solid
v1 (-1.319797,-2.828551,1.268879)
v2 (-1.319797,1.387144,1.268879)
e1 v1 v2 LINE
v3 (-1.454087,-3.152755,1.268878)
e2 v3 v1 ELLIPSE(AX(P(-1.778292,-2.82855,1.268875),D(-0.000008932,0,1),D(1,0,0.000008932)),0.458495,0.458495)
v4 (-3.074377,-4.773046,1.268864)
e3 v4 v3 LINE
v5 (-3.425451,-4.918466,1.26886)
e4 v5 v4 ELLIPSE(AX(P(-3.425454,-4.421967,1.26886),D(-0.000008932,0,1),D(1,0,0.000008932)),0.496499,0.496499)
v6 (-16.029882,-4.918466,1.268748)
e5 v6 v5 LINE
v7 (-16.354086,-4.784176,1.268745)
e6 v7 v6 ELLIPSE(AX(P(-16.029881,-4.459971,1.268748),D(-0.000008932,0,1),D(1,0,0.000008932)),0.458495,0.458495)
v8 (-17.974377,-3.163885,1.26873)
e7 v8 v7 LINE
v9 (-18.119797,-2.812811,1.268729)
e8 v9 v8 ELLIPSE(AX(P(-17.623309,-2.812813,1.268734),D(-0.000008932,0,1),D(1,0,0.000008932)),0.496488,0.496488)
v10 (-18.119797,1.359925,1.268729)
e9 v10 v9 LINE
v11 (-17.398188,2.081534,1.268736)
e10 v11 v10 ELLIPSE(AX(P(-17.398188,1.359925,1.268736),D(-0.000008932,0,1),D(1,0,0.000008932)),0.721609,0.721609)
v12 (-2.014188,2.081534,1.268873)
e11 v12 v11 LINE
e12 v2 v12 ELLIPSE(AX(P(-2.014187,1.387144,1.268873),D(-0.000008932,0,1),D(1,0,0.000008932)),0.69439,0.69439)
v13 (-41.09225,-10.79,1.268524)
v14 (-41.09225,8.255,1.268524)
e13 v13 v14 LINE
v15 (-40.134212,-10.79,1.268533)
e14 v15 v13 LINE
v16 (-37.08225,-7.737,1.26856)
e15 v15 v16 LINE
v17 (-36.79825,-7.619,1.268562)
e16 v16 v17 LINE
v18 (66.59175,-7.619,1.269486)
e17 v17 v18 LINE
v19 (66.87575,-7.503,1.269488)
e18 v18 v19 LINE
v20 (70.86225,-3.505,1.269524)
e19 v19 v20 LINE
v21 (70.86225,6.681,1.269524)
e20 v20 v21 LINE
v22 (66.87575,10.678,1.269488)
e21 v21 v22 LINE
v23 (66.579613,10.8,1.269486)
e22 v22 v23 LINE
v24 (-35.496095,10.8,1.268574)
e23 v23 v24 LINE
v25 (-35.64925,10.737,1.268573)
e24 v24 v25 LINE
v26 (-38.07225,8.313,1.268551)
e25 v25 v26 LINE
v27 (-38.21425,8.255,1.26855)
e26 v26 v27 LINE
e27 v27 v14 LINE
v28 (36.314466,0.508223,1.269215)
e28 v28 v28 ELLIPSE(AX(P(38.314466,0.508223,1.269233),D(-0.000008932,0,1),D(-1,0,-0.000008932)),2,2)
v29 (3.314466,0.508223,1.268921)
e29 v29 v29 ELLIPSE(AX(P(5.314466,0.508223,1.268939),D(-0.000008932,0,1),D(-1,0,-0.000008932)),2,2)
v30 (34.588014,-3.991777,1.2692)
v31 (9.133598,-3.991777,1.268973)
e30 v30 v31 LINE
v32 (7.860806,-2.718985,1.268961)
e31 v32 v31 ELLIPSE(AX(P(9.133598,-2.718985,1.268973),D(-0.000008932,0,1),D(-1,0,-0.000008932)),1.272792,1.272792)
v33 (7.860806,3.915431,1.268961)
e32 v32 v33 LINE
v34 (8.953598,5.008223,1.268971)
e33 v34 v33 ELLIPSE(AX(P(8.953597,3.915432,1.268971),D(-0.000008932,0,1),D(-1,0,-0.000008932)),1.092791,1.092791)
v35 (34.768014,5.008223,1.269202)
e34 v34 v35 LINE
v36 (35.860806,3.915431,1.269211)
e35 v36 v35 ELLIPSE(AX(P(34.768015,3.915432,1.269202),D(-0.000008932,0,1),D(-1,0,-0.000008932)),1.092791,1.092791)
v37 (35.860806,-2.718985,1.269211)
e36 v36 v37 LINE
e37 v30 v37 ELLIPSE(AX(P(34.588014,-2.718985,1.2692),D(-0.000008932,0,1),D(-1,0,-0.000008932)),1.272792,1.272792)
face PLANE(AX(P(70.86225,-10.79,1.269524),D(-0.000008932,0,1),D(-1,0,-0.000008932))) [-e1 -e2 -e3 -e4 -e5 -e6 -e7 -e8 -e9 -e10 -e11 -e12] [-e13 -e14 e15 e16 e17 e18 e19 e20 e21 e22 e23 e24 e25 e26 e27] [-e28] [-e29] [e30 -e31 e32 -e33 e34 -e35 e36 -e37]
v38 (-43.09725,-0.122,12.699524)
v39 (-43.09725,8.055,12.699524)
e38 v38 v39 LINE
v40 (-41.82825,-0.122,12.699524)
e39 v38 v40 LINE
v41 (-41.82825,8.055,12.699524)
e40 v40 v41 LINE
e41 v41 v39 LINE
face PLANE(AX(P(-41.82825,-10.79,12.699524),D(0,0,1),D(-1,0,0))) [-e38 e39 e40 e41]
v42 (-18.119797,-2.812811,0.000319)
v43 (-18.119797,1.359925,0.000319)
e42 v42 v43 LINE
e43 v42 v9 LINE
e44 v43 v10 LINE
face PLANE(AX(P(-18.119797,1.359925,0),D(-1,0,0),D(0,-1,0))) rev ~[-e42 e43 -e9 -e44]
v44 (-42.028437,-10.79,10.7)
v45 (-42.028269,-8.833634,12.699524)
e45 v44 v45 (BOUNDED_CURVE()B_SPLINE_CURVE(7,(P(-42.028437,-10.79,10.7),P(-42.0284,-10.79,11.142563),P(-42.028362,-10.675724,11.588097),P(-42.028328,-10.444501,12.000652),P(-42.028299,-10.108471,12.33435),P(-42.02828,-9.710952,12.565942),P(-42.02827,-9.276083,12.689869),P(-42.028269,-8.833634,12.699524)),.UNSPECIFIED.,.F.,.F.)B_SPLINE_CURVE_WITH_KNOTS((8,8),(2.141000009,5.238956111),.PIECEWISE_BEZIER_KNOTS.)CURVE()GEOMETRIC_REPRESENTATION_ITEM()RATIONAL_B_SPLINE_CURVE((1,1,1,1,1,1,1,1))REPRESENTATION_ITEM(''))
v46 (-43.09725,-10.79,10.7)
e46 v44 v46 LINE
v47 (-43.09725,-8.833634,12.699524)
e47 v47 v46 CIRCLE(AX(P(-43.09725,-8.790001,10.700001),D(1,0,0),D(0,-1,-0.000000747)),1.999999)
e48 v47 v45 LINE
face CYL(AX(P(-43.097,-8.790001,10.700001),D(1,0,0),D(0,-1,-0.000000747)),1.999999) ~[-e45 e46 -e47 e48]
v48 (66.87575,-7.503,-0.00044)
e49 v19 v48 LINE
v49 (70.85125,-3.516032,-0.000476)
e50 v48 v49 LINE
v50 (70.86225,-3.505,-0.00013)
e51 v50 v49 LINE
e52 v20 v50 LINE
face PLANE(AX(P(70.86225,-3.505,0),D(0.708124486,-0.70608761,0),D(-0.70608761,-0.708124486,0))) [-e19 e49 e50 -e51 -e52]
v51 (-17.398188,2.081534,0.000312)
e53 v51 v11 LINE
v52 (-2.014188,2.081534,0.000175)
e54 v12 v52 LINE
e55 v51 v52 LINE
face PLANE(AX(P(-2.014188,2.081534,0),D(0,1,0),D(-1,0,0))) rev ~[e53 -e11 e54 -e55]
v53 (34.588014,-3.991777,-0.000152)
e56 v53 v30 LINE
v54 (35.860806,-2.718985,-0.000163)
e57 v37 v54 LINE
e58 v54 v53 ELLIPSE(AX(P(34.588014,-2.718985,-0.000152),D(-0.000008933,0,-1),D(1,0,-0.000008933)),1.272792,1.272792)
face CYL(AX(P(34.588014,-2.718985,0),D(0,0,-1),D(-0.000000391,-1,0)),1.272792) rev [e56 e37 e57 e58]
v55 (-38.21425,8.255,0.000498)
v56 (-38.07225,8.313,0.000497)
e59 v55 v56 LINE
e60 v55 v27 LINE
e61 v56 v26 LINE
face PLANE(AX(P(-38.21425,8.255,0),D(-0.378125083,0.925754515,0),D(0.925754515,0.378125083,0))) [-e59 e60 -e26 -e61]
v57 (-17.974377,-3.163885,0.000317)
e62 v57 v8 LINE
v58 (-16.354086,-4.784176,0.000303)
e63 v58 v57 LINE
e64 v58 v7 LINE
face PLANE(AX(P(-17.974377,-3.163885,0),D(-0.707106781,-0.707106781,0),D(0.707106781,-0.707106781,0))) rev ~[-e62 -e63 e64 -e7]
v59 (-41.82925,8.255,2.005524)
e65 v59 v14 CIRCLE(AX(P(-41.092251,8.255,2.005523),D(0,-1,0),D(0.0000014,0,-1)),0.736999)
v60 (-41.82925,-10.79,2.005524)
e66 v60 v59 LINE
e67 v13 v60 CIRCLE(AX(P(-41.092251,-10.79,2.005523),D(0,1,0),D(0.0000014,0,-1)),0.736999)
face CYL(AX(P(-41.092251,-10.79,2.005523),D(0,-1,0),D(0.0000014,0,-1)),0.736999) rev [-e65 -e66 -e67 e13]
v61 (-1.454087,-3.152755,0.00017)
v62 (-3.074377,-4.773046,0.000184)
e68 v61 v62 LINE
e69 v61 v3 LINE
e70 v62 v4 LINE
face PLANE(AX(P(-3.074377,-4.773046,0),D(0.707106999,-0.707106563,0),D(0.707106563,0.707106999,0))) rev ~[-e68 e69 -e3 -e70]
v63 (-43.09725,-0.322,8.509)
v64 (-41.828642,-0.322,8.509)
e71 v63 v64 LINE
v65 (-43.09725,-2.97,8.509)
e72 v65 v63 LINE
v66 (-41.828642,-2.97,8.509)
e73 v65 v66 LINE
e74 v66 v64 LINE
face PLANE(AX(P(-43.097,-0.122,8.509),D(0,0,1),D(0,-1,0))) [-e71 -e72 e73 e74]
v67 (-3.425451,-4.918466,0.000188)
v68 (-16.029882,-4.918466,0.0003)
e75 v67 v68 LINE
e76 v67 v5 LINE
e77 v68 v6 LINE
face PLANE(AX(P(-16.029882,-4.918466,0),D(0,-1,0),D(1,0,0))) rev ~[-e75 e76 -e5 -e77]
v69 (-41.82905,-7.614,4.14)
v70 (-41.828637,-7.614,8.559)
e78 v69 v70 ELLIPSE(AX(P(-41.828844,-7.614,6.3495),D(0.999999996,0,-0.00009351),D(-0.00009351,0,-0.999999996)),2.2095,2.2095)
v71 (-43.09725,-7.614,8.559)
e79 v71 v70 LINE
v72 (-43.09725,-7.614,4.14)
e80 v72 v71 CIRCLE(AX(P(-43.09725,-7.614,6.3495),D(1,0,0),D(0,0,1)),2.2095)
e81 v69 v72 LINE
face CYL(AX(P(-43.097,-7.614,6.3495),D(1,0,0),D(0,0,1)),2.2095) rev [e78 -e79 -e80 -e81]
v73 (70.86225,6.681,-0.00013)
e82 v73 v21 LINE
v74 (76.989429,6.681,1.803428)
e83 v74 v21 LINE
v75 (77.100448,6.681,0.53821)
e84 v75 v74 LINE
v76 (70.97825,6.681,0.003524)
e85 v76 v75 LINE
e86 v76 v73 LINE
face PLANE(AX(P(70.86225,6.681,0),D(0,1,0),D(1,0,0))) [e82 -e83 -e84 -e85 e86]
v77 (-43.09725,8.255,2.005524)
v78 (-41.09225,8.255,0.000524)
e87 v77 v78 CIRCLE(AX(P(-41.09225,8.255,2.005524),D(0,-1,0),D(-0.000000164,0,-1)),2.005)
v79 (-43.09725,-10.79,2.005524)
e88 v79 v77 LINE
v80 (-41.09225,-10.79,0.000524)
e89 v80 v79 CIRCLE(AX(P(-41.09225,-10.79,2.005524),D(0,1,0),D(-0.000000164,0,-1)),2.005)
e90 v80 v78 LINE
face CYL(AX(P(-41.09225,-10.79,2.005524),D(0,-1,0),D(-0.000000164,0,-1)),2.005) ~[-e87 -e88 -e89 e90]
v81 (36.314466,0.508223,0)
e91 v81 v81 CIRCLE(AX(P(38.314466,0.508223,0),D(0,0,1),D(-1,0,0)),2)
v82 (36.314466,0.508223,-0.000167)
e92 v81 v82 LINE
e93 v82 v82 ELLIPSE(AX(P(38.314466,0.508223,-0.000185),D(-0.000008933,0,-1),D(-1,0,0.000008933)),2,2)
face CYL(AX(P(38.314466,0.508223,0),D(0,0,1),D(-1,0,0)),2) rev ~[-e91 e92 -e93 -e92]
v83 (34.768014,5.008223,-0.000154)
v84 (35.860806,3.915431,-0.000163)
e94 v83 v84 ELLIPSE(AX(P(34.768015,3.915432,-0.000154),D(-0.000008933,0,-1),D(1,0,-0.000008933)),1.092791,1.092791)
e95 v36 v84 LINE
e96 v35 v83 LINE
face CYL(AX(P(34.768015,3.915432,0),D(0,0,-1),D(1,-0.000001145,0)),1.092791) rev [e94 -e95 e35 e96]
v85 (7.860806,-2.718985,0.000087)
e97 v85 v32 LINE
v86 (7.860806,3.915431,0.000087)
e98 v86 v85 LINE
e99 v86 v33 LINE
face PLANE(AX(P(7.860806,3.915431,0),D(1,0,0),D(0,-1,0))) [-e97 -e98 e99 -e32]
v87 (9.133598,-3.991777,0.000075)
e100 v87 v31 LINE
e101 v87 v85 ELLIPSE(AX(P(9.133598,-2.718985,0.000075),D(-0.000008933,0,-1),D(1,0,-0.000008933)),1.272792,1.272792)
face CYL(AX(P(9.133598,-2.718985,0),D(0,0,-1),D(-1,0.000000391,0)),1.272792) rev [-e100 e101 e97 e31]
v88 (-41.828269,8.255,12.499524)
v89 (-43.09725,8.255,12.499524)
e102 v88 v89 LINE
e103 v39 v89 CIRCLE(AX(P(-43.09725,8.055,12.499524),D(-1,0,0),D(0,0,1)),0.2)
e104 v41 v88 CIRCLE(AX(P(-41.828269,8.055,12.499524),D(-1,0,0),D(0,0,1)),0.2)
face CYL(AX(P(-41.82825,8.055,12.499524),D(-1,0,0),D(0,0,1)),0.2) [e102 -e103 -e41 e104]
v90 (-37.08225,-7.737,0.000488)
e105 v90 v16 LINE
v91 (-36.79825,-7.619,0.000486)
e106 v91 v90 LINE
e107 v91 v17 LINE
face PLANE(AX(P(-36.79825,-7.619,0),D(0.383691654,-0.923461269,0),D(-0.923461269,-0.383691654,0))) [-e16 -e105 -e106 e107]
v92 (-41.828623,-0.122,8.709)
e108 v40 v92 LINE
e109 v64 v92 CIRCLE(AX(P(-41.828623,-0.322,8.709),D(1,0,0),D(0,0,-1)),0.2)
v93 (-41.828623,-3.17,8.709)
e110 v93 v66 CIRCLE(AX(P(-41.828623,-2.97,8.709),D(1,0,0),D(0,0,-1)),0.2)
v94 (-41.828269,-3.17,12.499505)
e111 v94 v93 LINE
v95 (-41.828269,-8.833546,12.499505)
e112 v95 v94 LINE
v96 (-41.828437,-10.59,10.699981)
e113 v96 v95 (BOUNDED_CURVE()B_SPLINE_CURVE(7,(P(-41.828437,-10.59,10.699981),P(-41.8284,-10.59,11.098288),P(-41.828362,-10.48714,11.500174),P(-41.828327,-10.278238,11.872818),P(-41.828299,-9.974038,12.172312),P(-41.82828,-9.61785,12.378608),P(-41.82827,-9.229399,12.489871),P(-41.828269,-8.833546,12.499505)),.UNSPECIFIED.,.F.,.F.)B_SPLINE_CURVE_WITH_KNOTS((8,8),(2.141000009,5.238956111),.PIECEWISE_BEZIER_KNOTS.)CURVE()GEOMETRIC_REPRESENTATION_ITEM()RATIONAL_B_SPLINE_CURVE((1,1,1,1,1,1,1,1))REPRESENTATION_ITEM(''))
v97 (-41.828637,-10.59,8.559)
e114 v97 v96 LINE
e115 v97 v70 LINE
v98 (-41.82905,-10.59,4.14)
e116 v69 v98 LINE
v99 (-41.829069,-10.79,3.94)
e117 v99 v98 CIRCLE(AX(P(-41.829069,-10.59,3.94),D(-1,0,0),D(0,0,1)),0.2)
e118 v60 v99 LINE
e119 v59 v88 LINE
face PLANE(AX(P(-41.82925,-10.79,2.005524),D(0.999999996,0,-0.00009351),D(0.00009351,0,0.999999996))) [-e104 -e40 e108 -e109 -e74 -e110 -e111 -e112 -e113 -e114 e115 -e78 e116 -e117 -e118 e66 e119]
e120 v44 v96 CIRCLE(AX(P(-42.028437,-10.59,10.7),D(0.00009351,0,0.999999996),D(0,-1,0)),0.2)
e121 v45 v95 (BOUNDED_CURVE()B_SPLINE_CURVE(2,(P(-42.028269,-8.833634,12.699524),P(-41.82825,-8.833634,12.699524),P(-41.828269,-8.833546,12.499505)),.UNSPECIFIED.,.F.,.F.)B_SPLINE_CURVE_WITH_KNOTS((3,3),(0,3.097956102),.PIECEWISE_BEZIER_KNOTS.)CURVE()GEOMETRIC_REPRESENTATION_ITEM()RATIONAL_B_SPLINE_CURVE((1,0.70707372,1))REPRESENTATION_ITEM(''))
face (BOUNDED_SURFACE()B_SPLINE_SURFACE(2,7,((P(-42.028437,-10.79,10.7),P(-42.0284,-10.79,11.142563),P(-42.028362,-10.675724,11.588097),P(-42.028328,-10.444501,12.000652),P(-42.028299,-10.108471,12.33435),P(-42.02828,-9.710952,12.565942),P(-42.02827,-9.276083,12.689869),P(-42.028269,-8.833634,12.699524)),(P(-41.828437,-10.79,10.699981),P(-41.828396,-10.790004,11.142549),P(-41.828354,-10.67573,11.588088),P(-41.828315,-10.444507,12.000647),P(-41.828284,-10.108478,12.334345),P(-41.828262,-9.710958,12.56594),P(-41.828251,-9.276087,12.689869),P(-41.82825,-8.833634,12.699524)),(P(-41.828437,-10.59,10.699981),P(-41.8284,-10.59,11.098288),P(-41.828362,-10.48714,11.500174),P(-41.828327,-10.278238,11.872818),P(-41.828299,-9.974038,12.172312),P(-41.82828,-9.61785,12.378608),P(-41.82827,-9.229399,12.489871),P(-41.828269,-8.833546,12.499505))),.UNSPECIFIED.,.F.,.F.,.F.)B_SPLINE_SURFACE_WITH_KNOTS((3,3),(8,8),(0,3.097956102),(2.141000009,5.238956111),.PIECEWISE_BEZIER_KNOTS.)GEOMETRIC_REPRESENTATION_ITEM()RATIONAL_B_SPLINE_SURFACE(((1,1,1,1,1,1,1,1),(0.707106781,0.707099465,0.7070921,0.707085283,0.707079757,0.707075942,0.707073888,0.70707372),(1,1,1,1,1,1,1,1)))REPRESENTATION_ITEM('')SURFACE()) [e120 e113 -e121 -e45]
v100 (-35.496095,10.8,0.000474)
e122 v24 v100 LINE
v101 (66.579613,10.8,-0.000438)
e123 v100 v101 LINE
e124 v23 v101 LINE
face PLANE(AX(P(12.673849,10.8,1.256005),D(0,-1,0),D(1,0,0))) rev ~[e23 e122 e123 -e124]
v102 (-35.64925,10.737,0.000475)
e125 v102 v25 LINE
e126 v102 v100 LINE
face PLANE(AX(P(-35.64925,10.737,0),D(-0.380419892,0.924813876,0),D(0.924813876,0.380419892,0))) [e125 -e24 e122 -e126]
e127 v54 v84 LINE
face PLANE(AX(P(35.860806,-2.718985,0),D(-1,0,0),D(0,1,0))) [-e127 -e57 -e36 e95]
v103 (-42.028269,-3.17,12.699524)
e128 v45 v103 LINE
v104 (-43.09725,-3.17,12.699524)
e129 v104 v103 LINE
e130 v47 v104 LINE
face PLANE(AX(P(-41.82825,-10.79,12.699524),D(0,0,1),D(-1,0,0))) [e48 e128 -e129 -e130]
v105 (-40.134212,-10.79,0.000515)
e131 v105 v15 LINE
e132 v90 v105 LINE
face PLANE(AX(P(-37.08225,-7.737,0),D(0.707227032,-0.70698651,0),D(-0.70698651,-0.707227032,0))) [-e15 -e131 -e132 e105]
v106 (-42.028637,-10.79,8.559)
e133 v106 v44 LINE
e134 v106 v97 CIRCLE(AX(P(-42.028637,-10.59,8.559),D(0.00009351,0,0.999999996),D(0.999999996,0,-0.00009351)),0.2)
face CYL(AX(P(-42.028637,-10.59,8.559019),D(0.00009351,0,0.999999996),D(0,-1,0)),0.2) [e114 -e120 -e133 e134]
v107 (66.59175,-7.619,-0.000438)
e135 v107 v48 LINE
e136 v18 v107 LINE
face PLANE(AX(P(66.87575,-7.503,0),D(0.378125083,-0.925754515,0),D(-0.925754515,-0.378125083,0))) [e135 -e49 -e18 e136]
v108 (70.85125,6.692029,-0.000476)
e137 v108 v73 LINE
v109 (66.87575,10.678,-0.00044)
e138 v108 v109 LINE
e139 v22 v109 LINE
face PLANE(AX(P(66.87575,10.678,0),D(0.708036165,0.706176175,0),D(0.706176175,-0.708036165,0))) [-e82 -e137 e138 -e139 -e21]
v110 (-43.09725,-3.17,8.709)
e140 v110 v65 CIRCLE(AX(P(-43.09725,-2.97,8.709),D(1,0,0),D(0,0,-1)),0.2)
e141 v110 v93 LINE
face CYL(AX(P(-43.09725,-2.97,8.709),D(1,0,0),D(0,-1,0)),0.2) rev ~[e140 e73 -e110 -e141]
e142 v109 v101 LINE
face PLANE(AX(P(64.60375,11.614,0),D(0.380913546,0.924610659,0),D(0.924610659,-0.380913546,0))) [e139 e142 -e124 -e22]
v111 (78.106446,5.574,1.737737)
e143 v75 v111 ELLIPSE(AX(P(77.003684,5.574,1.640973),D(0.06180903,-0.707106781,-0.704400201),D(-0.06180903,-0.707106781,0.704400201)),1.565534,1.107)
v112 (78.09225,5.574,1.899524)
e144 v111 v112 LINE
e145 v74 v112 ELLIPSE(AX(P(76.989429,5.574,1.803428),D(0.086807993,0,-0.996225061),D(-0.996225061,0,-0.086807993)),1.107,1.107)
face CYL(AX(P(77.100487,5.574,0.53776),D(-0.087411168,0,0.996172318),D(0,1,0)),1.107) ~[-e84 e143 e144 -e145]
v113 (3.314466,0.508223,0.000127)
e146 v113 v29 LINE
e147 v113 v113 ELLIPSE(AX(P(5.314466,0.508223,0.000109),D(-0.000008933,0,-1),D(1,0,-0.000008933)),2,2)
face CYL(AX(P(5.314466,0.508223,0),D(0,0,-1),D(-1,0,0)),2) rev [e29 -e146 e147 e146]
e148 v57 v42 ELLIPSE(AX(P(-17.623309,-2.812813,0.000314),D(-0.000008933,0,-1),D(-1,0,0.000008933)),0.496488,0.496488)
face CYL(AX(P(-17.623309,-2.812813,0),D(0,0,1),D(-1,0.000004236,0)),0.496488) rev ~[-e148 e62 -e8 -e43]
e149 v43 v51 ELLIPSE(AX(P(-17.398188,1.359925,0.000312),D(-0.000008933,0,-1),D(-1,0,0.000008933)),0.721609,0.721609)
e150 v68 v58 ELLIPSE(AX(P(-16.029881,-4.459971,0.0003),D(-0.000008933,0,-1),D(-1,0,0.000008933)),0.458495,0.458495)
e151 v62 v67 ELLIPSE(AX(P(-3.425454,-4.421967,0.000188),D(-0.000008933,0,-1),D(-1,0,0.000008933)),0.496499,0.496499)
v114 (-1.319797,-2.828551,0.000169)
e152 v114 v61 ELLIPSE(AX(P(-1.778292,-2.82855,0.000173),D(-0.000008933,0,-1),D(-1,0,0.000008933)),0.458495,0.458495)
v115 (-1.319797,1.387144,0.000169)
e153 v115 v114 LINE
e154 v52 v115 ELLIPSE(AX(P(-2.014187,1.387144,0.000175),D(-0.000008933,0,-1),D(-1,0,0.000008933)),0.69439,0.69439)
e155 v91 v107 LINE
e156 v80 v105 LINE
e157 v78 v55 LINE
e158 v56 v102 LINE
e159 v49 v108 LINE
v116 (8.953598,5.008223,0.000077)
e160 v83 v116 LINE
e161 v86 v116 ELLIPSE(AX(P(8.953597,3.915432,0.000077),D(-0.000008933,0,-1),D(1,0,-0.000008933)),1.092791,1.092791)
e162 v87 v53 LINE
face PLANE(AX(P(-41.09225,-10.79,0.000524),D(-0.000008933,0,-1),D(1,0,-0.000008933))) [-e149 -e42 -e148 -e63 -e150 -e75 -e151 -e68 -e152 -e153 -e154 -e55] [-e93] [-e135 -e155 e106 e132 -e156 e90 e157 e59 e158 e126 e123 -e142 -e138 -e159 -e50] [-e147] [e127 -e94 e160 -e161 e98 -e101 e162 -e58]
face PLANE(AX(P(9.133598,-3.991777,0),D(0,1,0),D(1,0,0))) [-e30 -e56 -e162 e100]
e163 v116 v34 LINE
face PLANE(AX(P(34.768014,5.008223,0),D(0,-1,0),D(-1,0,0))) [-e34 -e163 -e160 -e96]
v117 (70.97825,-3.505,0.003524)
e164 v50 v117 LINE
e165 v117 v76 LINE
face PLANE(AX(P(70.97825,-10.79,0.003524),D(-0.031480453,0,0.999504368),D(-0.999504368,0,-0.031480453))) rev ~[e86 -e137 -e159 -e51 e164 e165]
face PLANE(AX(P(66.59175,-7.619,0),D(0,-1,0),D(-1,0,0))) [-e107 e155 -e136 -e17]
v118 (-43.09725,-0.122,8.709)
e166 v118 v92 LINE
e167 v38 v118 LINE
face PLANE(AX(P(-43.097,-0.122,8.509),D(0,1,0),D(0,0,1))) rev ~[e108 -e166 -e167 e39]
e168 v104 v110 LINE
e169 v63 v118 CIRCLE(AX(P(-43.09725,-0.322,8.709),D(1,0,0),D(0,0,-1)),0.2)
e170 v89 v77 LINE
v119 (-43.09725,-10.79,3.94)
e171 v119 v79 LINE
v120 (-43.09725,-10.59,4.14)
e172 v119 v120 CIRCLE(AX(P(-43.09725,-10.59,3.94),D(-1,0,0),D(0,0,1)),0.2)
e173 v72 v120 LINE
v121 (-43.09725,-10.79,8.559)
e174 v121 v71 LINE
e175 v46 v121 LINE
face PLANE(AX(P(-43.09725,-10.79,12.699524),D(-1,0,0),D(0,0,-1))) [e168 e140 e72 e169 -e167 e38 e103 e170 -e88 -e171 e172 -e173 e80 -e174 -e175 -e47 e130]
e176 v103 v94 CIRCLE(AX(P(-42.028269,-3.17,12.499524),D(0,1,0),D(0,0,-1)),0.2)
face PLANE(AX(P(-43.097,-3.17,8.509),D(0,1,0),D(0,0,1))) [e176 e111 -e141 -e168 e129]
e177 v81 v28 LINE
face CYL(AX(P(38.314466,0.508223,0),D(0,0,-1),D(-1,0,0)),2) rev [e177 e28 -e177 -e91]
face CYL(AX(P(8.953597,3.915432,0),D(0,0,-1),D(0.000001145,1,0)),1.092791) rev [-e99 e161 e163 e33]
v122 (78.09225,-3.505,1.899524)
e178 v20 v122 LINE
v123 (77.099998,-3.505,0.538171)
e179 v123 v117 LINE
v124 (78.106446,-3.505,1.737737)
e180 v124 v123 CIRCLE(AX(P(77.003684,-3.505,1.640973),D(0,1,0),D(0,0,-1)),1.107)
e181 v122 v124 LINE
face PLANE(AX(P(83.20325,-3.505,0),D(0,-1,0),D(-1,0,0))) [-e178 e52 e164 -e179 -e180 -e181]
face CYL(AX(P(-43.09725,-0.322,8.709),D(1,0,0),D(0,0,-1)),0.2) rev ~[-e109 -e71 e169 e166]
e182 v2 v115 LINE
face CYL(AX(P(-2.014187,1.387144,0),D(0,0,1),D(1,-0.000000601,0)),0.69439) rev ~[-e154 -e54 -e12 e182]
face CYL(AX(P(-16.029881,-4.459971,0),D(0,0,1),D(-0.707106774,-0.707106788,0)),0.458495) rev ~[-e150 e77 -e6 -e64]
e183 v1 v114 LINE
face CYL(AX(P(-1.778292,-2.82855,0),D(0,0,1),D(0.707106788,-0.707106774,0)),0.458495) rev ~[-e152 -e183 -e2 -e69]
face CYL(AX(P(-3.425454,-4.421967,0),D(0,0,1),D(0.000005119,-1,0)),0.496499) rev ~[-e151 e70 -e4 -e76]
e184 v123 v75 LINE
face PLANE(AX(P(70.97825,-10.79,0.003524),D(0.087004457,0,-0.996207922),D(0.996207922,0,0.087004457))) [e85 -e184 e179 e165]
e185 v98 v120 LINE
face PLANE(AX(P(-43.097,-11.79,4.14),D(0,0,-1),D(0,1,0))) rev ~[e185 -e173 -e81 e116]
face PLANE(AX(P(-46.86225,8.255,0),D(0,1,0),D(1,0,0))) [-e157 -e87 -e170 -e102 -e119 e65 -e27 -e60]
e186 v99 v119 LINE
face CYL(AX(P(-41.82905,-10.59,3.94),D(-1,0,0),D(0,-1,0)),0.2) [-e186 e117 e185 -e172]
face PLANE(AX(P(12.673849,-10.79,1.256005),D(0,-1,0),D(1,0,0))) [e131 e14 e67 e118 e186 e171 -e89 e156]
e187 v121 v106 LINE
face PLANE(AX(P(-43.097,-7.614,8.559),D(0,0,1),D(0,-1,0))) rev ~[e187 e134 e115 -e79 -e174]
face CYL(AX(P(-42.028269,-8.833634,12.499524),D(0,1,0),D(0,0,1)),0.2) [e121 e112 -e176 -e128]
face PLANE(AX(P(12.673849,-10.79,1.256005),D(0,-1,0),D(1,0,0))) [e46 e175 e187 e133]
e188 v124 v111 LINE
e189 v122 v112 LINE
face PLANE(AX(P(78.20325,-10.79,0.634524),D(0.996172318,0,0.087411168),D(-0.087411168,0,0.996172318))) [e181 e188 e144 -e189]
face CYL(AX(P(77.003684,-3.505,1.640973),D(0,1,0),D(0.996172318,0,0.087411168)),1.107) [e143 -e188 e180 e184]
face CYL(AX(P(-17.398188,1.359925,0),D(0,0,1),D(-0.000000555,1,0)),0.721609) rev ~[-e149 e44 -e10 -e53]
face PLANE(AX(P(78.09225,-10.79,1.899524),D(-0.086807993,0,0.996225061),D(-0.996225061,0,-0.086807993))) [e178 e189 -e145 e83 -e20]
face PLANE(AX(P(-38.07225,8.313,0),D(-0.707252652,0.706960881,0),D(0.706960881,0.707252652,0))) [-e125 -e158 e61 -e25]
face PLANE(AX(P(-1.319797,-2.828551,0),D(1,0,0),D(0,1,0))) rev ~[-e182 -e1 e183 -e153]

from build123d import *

# Parameters (mm, degrees)
PAD_DEPTH            = 21.59
POCKET_DEPTH         = 0.001476
POCKET_DEPTH_BACK    = -12.700524
SKETCH002_W          = 3.048
SKETCH002_H          = 5.191
POCKET001_DEPTH      = 121.30125
POCKET001_DEPTH_BACK = -0.00125
FILLET_R             = 0.2
FILLET001_R          = 1.107
SKETCH003_R          = 2
POCKET002_DEPTH      = 5
BODY_PLACEMENT_ANGLE = 180


with BuildPart() as part:
    # Sketch → Pad (new body)
    with BuildSketch(Plane.XZ.offset(-10.79)):
        with BuildLine():
            Line((-60.53925, 1.899524), (-53.30925, 1.269524))
            Line((-53.30925, 1.269524), (58.64525, 1.268524))
            ThreePointArc((58.64525, 1.268524), (59.166388, 1.484386), (59.38225, 2.005524))
            Line((59.38225, 2.005524), (59.38125, 12.699524))
            Line((59.38125, 12.699524), (60.65025, 12.699524))
            Line((60.65025, 12.699524), (60.65025, 2.005524))
            ThreePointArc((58.64525, 0.000524), (60.062999, 0.587775), (60.65025, 2.005524))
            Line((58.64525, 0.000524), (-53.29825, -0.000476))
            Line((-53.42525, 0.003524), (-53.29825, -0.000476))
            Line((-53.42525, 0.003524), (-60.65025, 0.634524))
            Line((-60.65025, 0.634524), (-60.53925, 1.899524))
        make_face()
    extrude(amount=PAD_DEPTH)

    # Sketch001 → Pocket (cut, two sides)
    with BuildSketch(Plane(origin=(0, 30, 0), x_dir=(1, 0, 0), z_dir=(0, 0, 1))) as pocket_sk:
        Polygon((-65.65025, -36.681), (-65.65025, -44.909), (-47.05075, -44.909), (-47.05075, -41.614), (-49.32275, -40.678), (-53.30925, -36.681), align=None)
        Polygon((-53.30925, -26.495), (-49.32275, -22.497), (-49.03875, -22.381), (54.35125, -22.381), (54.63525, -22.263), (57.69221, -19.205), (57.69221, -11.915), (-65.65025, -11.915), (-65.65025, -26.495), align=None)
        Polygon((52.07425, -41.201), (52.07425, -46.483), (64.41525, -46.483), (64.41525, -38.255), (55.76725, -38.255), (55.62525, -38.313), (53.20225, -40.737), align=None)
    extrude(amount=-POCKET_DEPTH, mode=Mode.SUBTRACT)
    extrude(pocket_sk.sketch, amount=-POCKET_DEPTH_BACK, mode=Mode.SUBTRACT)

    # Sketch002 → Pocket001 (cut, two sides)
    with BuildSketch(Plane(origin=(60.65, 1.263, 0), x_dir=(0, 1, 0), z_dir=(1, 0, 0))) as pocket001_sk:
        with BuildLine():
            Line((6.351, 8.559), (10.527, 8.559))
            Line((10.527, 4.14), (10.527, 8.559))
            Line((10.527, 4.14), (6.351, 4.14))
            ThreePointArc((6.351, 8.559), (4.1415, 6.3495), (6.351, 4.14))
        make_face()
        with Locations((0.383, 11.1045)):
            Rectangle(SKETCH002_W, SKETCH002_H)
        with BuildLine():
            ThreePointArc((9.527, 10.7), (8.941214, 12.114214), (7.527, 12.7))
            Line((7.527, 12.7), (7.527, 13.7))
            Line((7.527, 13.7), (10.527, 13.7))
            Line((10.527, 10.7), (10.527, 13.7))
            Line((9.527, 10.7), (10.527, 10.7))
        make_face()
    extrude(amount=-POCKET001_DEPTH, mode=Mode.SUBTRACT)
    extrude(pocket001_sk.sketch, amount=-POCKET001_DEPTH_BACK, mode=Mode.SUBTRACT)

    # Fillet
    fillet_edges = [part.edges().sort_by_distance(p)[0] for p in [
        (60.015718, 10.79, 10.7),
        (60.016025, 10.79, 4.14),
        (60.015821, 3.17, 8.509),
        (59.381537, 10.79, 9.6295),
        (60.015821, 0.122, 8.509),
        (60.015819, 7.614, 8.559),
        (60.01575, -8.255, 12.699524),
    ]]
    fillet(fillet_edges, radius=FILLET_R)

    # Fillet001
    fillet001_edges = [part.edges().sort_by_distance(p)[0] for p in [
        (-60.59475, -6.681, 1.267024),
        (-60.65025, -1.588, 0.634524),
    ]]
    fillet(fillet001_edges, radius=FILLET001_R)

    # Sketch003 (on XY_Plane of Origin) → Pocket002 (cut, symmetric)
    with BuildSketch(Plane.XY):
        with Locations((-20.761466, -0.508223)):
            Circle(SKETCH003_R)
        with Locations((12.238534, -0.508223)):
            Circle(SKETCH003_R)
        with BuildLine():
            Line((-17.215014, -5.008223), (8.599402, -5.008223))
            ThreePointArc((8.599402, -5.008223), (9.372123, -4.688152), (9.692194, -3.915431))
            Line((9.692194, -3.915431), (9.692194, 2.718985))
            ThreePointArc((9.692194, 2.718985), (9.319402, 3.618985), (8.419402, 3.991777))
            Line((8.419402, 3.991777), (-17.035014, 3.991777))
            ThreePointArc((-17.035014, 3.991777), (-17.935014, 3.618985), (-18.307806, 2.718985))
            Line((-18.307806, 2.718985), (-18.307806, -3.915431))
            ThreePointArc((-18.307806, -3.915431), (-17.987735, -4.688152), (-17.215014, -5.008223))
        make_face()
        with BuildLine():
            Line((19.567188, -2.081534), (34.951188, -2.081534))
            ThreePointArc((34.951188, -2.081534), (35.461442, -1.87018), (35.672797, -1.359925))
            Line((35.672797, -1.359925), (35.672797, 2.812811))
            ThreePointArc((35.672797, 2.812811), (35.635004, 3.002811), (35.527377, 3.163885))
            Line((35.527377, 3.163885), (33.907086, 4.784176))
            ThreePointArc((33.907086, 4.784176), (33.75834, 4.883565), (33.582882, 4.918466))
            Line((33.582882, 4.918466), (20.978451, 4.918466))
            ThreePointArc((20.978451, 4.918466), (20.788451, 4.880672), (20.627377, 4.773046))
            Line((20.627377, 4.773046), (19.007087, 3.152755))
            ThreePointArc((19.007087, 3.152755), (18.907698, 3.004009), (18.872797, 2.828551))
            Line((18.872797, 2.828551), (18.872797, -1.387144))
            ThreePointArc((18.872797, -1.387144), (19.076179, -1.878152), (19.567188, -2.081534))
        make_face()
    extrude(amount=POCKET002_DEPTH, both=True, mode=Mode.SUBTRACT)


with BuildPart() as part_1:
    # Body placement: moved
    add(part.part.moved(Location((17.553, 0, 0))).rotate(Axis((17.553, 0, 0), (0, 0, 1)), BODY_PLACEMENT_ANGLE))


solid = part_1.part
